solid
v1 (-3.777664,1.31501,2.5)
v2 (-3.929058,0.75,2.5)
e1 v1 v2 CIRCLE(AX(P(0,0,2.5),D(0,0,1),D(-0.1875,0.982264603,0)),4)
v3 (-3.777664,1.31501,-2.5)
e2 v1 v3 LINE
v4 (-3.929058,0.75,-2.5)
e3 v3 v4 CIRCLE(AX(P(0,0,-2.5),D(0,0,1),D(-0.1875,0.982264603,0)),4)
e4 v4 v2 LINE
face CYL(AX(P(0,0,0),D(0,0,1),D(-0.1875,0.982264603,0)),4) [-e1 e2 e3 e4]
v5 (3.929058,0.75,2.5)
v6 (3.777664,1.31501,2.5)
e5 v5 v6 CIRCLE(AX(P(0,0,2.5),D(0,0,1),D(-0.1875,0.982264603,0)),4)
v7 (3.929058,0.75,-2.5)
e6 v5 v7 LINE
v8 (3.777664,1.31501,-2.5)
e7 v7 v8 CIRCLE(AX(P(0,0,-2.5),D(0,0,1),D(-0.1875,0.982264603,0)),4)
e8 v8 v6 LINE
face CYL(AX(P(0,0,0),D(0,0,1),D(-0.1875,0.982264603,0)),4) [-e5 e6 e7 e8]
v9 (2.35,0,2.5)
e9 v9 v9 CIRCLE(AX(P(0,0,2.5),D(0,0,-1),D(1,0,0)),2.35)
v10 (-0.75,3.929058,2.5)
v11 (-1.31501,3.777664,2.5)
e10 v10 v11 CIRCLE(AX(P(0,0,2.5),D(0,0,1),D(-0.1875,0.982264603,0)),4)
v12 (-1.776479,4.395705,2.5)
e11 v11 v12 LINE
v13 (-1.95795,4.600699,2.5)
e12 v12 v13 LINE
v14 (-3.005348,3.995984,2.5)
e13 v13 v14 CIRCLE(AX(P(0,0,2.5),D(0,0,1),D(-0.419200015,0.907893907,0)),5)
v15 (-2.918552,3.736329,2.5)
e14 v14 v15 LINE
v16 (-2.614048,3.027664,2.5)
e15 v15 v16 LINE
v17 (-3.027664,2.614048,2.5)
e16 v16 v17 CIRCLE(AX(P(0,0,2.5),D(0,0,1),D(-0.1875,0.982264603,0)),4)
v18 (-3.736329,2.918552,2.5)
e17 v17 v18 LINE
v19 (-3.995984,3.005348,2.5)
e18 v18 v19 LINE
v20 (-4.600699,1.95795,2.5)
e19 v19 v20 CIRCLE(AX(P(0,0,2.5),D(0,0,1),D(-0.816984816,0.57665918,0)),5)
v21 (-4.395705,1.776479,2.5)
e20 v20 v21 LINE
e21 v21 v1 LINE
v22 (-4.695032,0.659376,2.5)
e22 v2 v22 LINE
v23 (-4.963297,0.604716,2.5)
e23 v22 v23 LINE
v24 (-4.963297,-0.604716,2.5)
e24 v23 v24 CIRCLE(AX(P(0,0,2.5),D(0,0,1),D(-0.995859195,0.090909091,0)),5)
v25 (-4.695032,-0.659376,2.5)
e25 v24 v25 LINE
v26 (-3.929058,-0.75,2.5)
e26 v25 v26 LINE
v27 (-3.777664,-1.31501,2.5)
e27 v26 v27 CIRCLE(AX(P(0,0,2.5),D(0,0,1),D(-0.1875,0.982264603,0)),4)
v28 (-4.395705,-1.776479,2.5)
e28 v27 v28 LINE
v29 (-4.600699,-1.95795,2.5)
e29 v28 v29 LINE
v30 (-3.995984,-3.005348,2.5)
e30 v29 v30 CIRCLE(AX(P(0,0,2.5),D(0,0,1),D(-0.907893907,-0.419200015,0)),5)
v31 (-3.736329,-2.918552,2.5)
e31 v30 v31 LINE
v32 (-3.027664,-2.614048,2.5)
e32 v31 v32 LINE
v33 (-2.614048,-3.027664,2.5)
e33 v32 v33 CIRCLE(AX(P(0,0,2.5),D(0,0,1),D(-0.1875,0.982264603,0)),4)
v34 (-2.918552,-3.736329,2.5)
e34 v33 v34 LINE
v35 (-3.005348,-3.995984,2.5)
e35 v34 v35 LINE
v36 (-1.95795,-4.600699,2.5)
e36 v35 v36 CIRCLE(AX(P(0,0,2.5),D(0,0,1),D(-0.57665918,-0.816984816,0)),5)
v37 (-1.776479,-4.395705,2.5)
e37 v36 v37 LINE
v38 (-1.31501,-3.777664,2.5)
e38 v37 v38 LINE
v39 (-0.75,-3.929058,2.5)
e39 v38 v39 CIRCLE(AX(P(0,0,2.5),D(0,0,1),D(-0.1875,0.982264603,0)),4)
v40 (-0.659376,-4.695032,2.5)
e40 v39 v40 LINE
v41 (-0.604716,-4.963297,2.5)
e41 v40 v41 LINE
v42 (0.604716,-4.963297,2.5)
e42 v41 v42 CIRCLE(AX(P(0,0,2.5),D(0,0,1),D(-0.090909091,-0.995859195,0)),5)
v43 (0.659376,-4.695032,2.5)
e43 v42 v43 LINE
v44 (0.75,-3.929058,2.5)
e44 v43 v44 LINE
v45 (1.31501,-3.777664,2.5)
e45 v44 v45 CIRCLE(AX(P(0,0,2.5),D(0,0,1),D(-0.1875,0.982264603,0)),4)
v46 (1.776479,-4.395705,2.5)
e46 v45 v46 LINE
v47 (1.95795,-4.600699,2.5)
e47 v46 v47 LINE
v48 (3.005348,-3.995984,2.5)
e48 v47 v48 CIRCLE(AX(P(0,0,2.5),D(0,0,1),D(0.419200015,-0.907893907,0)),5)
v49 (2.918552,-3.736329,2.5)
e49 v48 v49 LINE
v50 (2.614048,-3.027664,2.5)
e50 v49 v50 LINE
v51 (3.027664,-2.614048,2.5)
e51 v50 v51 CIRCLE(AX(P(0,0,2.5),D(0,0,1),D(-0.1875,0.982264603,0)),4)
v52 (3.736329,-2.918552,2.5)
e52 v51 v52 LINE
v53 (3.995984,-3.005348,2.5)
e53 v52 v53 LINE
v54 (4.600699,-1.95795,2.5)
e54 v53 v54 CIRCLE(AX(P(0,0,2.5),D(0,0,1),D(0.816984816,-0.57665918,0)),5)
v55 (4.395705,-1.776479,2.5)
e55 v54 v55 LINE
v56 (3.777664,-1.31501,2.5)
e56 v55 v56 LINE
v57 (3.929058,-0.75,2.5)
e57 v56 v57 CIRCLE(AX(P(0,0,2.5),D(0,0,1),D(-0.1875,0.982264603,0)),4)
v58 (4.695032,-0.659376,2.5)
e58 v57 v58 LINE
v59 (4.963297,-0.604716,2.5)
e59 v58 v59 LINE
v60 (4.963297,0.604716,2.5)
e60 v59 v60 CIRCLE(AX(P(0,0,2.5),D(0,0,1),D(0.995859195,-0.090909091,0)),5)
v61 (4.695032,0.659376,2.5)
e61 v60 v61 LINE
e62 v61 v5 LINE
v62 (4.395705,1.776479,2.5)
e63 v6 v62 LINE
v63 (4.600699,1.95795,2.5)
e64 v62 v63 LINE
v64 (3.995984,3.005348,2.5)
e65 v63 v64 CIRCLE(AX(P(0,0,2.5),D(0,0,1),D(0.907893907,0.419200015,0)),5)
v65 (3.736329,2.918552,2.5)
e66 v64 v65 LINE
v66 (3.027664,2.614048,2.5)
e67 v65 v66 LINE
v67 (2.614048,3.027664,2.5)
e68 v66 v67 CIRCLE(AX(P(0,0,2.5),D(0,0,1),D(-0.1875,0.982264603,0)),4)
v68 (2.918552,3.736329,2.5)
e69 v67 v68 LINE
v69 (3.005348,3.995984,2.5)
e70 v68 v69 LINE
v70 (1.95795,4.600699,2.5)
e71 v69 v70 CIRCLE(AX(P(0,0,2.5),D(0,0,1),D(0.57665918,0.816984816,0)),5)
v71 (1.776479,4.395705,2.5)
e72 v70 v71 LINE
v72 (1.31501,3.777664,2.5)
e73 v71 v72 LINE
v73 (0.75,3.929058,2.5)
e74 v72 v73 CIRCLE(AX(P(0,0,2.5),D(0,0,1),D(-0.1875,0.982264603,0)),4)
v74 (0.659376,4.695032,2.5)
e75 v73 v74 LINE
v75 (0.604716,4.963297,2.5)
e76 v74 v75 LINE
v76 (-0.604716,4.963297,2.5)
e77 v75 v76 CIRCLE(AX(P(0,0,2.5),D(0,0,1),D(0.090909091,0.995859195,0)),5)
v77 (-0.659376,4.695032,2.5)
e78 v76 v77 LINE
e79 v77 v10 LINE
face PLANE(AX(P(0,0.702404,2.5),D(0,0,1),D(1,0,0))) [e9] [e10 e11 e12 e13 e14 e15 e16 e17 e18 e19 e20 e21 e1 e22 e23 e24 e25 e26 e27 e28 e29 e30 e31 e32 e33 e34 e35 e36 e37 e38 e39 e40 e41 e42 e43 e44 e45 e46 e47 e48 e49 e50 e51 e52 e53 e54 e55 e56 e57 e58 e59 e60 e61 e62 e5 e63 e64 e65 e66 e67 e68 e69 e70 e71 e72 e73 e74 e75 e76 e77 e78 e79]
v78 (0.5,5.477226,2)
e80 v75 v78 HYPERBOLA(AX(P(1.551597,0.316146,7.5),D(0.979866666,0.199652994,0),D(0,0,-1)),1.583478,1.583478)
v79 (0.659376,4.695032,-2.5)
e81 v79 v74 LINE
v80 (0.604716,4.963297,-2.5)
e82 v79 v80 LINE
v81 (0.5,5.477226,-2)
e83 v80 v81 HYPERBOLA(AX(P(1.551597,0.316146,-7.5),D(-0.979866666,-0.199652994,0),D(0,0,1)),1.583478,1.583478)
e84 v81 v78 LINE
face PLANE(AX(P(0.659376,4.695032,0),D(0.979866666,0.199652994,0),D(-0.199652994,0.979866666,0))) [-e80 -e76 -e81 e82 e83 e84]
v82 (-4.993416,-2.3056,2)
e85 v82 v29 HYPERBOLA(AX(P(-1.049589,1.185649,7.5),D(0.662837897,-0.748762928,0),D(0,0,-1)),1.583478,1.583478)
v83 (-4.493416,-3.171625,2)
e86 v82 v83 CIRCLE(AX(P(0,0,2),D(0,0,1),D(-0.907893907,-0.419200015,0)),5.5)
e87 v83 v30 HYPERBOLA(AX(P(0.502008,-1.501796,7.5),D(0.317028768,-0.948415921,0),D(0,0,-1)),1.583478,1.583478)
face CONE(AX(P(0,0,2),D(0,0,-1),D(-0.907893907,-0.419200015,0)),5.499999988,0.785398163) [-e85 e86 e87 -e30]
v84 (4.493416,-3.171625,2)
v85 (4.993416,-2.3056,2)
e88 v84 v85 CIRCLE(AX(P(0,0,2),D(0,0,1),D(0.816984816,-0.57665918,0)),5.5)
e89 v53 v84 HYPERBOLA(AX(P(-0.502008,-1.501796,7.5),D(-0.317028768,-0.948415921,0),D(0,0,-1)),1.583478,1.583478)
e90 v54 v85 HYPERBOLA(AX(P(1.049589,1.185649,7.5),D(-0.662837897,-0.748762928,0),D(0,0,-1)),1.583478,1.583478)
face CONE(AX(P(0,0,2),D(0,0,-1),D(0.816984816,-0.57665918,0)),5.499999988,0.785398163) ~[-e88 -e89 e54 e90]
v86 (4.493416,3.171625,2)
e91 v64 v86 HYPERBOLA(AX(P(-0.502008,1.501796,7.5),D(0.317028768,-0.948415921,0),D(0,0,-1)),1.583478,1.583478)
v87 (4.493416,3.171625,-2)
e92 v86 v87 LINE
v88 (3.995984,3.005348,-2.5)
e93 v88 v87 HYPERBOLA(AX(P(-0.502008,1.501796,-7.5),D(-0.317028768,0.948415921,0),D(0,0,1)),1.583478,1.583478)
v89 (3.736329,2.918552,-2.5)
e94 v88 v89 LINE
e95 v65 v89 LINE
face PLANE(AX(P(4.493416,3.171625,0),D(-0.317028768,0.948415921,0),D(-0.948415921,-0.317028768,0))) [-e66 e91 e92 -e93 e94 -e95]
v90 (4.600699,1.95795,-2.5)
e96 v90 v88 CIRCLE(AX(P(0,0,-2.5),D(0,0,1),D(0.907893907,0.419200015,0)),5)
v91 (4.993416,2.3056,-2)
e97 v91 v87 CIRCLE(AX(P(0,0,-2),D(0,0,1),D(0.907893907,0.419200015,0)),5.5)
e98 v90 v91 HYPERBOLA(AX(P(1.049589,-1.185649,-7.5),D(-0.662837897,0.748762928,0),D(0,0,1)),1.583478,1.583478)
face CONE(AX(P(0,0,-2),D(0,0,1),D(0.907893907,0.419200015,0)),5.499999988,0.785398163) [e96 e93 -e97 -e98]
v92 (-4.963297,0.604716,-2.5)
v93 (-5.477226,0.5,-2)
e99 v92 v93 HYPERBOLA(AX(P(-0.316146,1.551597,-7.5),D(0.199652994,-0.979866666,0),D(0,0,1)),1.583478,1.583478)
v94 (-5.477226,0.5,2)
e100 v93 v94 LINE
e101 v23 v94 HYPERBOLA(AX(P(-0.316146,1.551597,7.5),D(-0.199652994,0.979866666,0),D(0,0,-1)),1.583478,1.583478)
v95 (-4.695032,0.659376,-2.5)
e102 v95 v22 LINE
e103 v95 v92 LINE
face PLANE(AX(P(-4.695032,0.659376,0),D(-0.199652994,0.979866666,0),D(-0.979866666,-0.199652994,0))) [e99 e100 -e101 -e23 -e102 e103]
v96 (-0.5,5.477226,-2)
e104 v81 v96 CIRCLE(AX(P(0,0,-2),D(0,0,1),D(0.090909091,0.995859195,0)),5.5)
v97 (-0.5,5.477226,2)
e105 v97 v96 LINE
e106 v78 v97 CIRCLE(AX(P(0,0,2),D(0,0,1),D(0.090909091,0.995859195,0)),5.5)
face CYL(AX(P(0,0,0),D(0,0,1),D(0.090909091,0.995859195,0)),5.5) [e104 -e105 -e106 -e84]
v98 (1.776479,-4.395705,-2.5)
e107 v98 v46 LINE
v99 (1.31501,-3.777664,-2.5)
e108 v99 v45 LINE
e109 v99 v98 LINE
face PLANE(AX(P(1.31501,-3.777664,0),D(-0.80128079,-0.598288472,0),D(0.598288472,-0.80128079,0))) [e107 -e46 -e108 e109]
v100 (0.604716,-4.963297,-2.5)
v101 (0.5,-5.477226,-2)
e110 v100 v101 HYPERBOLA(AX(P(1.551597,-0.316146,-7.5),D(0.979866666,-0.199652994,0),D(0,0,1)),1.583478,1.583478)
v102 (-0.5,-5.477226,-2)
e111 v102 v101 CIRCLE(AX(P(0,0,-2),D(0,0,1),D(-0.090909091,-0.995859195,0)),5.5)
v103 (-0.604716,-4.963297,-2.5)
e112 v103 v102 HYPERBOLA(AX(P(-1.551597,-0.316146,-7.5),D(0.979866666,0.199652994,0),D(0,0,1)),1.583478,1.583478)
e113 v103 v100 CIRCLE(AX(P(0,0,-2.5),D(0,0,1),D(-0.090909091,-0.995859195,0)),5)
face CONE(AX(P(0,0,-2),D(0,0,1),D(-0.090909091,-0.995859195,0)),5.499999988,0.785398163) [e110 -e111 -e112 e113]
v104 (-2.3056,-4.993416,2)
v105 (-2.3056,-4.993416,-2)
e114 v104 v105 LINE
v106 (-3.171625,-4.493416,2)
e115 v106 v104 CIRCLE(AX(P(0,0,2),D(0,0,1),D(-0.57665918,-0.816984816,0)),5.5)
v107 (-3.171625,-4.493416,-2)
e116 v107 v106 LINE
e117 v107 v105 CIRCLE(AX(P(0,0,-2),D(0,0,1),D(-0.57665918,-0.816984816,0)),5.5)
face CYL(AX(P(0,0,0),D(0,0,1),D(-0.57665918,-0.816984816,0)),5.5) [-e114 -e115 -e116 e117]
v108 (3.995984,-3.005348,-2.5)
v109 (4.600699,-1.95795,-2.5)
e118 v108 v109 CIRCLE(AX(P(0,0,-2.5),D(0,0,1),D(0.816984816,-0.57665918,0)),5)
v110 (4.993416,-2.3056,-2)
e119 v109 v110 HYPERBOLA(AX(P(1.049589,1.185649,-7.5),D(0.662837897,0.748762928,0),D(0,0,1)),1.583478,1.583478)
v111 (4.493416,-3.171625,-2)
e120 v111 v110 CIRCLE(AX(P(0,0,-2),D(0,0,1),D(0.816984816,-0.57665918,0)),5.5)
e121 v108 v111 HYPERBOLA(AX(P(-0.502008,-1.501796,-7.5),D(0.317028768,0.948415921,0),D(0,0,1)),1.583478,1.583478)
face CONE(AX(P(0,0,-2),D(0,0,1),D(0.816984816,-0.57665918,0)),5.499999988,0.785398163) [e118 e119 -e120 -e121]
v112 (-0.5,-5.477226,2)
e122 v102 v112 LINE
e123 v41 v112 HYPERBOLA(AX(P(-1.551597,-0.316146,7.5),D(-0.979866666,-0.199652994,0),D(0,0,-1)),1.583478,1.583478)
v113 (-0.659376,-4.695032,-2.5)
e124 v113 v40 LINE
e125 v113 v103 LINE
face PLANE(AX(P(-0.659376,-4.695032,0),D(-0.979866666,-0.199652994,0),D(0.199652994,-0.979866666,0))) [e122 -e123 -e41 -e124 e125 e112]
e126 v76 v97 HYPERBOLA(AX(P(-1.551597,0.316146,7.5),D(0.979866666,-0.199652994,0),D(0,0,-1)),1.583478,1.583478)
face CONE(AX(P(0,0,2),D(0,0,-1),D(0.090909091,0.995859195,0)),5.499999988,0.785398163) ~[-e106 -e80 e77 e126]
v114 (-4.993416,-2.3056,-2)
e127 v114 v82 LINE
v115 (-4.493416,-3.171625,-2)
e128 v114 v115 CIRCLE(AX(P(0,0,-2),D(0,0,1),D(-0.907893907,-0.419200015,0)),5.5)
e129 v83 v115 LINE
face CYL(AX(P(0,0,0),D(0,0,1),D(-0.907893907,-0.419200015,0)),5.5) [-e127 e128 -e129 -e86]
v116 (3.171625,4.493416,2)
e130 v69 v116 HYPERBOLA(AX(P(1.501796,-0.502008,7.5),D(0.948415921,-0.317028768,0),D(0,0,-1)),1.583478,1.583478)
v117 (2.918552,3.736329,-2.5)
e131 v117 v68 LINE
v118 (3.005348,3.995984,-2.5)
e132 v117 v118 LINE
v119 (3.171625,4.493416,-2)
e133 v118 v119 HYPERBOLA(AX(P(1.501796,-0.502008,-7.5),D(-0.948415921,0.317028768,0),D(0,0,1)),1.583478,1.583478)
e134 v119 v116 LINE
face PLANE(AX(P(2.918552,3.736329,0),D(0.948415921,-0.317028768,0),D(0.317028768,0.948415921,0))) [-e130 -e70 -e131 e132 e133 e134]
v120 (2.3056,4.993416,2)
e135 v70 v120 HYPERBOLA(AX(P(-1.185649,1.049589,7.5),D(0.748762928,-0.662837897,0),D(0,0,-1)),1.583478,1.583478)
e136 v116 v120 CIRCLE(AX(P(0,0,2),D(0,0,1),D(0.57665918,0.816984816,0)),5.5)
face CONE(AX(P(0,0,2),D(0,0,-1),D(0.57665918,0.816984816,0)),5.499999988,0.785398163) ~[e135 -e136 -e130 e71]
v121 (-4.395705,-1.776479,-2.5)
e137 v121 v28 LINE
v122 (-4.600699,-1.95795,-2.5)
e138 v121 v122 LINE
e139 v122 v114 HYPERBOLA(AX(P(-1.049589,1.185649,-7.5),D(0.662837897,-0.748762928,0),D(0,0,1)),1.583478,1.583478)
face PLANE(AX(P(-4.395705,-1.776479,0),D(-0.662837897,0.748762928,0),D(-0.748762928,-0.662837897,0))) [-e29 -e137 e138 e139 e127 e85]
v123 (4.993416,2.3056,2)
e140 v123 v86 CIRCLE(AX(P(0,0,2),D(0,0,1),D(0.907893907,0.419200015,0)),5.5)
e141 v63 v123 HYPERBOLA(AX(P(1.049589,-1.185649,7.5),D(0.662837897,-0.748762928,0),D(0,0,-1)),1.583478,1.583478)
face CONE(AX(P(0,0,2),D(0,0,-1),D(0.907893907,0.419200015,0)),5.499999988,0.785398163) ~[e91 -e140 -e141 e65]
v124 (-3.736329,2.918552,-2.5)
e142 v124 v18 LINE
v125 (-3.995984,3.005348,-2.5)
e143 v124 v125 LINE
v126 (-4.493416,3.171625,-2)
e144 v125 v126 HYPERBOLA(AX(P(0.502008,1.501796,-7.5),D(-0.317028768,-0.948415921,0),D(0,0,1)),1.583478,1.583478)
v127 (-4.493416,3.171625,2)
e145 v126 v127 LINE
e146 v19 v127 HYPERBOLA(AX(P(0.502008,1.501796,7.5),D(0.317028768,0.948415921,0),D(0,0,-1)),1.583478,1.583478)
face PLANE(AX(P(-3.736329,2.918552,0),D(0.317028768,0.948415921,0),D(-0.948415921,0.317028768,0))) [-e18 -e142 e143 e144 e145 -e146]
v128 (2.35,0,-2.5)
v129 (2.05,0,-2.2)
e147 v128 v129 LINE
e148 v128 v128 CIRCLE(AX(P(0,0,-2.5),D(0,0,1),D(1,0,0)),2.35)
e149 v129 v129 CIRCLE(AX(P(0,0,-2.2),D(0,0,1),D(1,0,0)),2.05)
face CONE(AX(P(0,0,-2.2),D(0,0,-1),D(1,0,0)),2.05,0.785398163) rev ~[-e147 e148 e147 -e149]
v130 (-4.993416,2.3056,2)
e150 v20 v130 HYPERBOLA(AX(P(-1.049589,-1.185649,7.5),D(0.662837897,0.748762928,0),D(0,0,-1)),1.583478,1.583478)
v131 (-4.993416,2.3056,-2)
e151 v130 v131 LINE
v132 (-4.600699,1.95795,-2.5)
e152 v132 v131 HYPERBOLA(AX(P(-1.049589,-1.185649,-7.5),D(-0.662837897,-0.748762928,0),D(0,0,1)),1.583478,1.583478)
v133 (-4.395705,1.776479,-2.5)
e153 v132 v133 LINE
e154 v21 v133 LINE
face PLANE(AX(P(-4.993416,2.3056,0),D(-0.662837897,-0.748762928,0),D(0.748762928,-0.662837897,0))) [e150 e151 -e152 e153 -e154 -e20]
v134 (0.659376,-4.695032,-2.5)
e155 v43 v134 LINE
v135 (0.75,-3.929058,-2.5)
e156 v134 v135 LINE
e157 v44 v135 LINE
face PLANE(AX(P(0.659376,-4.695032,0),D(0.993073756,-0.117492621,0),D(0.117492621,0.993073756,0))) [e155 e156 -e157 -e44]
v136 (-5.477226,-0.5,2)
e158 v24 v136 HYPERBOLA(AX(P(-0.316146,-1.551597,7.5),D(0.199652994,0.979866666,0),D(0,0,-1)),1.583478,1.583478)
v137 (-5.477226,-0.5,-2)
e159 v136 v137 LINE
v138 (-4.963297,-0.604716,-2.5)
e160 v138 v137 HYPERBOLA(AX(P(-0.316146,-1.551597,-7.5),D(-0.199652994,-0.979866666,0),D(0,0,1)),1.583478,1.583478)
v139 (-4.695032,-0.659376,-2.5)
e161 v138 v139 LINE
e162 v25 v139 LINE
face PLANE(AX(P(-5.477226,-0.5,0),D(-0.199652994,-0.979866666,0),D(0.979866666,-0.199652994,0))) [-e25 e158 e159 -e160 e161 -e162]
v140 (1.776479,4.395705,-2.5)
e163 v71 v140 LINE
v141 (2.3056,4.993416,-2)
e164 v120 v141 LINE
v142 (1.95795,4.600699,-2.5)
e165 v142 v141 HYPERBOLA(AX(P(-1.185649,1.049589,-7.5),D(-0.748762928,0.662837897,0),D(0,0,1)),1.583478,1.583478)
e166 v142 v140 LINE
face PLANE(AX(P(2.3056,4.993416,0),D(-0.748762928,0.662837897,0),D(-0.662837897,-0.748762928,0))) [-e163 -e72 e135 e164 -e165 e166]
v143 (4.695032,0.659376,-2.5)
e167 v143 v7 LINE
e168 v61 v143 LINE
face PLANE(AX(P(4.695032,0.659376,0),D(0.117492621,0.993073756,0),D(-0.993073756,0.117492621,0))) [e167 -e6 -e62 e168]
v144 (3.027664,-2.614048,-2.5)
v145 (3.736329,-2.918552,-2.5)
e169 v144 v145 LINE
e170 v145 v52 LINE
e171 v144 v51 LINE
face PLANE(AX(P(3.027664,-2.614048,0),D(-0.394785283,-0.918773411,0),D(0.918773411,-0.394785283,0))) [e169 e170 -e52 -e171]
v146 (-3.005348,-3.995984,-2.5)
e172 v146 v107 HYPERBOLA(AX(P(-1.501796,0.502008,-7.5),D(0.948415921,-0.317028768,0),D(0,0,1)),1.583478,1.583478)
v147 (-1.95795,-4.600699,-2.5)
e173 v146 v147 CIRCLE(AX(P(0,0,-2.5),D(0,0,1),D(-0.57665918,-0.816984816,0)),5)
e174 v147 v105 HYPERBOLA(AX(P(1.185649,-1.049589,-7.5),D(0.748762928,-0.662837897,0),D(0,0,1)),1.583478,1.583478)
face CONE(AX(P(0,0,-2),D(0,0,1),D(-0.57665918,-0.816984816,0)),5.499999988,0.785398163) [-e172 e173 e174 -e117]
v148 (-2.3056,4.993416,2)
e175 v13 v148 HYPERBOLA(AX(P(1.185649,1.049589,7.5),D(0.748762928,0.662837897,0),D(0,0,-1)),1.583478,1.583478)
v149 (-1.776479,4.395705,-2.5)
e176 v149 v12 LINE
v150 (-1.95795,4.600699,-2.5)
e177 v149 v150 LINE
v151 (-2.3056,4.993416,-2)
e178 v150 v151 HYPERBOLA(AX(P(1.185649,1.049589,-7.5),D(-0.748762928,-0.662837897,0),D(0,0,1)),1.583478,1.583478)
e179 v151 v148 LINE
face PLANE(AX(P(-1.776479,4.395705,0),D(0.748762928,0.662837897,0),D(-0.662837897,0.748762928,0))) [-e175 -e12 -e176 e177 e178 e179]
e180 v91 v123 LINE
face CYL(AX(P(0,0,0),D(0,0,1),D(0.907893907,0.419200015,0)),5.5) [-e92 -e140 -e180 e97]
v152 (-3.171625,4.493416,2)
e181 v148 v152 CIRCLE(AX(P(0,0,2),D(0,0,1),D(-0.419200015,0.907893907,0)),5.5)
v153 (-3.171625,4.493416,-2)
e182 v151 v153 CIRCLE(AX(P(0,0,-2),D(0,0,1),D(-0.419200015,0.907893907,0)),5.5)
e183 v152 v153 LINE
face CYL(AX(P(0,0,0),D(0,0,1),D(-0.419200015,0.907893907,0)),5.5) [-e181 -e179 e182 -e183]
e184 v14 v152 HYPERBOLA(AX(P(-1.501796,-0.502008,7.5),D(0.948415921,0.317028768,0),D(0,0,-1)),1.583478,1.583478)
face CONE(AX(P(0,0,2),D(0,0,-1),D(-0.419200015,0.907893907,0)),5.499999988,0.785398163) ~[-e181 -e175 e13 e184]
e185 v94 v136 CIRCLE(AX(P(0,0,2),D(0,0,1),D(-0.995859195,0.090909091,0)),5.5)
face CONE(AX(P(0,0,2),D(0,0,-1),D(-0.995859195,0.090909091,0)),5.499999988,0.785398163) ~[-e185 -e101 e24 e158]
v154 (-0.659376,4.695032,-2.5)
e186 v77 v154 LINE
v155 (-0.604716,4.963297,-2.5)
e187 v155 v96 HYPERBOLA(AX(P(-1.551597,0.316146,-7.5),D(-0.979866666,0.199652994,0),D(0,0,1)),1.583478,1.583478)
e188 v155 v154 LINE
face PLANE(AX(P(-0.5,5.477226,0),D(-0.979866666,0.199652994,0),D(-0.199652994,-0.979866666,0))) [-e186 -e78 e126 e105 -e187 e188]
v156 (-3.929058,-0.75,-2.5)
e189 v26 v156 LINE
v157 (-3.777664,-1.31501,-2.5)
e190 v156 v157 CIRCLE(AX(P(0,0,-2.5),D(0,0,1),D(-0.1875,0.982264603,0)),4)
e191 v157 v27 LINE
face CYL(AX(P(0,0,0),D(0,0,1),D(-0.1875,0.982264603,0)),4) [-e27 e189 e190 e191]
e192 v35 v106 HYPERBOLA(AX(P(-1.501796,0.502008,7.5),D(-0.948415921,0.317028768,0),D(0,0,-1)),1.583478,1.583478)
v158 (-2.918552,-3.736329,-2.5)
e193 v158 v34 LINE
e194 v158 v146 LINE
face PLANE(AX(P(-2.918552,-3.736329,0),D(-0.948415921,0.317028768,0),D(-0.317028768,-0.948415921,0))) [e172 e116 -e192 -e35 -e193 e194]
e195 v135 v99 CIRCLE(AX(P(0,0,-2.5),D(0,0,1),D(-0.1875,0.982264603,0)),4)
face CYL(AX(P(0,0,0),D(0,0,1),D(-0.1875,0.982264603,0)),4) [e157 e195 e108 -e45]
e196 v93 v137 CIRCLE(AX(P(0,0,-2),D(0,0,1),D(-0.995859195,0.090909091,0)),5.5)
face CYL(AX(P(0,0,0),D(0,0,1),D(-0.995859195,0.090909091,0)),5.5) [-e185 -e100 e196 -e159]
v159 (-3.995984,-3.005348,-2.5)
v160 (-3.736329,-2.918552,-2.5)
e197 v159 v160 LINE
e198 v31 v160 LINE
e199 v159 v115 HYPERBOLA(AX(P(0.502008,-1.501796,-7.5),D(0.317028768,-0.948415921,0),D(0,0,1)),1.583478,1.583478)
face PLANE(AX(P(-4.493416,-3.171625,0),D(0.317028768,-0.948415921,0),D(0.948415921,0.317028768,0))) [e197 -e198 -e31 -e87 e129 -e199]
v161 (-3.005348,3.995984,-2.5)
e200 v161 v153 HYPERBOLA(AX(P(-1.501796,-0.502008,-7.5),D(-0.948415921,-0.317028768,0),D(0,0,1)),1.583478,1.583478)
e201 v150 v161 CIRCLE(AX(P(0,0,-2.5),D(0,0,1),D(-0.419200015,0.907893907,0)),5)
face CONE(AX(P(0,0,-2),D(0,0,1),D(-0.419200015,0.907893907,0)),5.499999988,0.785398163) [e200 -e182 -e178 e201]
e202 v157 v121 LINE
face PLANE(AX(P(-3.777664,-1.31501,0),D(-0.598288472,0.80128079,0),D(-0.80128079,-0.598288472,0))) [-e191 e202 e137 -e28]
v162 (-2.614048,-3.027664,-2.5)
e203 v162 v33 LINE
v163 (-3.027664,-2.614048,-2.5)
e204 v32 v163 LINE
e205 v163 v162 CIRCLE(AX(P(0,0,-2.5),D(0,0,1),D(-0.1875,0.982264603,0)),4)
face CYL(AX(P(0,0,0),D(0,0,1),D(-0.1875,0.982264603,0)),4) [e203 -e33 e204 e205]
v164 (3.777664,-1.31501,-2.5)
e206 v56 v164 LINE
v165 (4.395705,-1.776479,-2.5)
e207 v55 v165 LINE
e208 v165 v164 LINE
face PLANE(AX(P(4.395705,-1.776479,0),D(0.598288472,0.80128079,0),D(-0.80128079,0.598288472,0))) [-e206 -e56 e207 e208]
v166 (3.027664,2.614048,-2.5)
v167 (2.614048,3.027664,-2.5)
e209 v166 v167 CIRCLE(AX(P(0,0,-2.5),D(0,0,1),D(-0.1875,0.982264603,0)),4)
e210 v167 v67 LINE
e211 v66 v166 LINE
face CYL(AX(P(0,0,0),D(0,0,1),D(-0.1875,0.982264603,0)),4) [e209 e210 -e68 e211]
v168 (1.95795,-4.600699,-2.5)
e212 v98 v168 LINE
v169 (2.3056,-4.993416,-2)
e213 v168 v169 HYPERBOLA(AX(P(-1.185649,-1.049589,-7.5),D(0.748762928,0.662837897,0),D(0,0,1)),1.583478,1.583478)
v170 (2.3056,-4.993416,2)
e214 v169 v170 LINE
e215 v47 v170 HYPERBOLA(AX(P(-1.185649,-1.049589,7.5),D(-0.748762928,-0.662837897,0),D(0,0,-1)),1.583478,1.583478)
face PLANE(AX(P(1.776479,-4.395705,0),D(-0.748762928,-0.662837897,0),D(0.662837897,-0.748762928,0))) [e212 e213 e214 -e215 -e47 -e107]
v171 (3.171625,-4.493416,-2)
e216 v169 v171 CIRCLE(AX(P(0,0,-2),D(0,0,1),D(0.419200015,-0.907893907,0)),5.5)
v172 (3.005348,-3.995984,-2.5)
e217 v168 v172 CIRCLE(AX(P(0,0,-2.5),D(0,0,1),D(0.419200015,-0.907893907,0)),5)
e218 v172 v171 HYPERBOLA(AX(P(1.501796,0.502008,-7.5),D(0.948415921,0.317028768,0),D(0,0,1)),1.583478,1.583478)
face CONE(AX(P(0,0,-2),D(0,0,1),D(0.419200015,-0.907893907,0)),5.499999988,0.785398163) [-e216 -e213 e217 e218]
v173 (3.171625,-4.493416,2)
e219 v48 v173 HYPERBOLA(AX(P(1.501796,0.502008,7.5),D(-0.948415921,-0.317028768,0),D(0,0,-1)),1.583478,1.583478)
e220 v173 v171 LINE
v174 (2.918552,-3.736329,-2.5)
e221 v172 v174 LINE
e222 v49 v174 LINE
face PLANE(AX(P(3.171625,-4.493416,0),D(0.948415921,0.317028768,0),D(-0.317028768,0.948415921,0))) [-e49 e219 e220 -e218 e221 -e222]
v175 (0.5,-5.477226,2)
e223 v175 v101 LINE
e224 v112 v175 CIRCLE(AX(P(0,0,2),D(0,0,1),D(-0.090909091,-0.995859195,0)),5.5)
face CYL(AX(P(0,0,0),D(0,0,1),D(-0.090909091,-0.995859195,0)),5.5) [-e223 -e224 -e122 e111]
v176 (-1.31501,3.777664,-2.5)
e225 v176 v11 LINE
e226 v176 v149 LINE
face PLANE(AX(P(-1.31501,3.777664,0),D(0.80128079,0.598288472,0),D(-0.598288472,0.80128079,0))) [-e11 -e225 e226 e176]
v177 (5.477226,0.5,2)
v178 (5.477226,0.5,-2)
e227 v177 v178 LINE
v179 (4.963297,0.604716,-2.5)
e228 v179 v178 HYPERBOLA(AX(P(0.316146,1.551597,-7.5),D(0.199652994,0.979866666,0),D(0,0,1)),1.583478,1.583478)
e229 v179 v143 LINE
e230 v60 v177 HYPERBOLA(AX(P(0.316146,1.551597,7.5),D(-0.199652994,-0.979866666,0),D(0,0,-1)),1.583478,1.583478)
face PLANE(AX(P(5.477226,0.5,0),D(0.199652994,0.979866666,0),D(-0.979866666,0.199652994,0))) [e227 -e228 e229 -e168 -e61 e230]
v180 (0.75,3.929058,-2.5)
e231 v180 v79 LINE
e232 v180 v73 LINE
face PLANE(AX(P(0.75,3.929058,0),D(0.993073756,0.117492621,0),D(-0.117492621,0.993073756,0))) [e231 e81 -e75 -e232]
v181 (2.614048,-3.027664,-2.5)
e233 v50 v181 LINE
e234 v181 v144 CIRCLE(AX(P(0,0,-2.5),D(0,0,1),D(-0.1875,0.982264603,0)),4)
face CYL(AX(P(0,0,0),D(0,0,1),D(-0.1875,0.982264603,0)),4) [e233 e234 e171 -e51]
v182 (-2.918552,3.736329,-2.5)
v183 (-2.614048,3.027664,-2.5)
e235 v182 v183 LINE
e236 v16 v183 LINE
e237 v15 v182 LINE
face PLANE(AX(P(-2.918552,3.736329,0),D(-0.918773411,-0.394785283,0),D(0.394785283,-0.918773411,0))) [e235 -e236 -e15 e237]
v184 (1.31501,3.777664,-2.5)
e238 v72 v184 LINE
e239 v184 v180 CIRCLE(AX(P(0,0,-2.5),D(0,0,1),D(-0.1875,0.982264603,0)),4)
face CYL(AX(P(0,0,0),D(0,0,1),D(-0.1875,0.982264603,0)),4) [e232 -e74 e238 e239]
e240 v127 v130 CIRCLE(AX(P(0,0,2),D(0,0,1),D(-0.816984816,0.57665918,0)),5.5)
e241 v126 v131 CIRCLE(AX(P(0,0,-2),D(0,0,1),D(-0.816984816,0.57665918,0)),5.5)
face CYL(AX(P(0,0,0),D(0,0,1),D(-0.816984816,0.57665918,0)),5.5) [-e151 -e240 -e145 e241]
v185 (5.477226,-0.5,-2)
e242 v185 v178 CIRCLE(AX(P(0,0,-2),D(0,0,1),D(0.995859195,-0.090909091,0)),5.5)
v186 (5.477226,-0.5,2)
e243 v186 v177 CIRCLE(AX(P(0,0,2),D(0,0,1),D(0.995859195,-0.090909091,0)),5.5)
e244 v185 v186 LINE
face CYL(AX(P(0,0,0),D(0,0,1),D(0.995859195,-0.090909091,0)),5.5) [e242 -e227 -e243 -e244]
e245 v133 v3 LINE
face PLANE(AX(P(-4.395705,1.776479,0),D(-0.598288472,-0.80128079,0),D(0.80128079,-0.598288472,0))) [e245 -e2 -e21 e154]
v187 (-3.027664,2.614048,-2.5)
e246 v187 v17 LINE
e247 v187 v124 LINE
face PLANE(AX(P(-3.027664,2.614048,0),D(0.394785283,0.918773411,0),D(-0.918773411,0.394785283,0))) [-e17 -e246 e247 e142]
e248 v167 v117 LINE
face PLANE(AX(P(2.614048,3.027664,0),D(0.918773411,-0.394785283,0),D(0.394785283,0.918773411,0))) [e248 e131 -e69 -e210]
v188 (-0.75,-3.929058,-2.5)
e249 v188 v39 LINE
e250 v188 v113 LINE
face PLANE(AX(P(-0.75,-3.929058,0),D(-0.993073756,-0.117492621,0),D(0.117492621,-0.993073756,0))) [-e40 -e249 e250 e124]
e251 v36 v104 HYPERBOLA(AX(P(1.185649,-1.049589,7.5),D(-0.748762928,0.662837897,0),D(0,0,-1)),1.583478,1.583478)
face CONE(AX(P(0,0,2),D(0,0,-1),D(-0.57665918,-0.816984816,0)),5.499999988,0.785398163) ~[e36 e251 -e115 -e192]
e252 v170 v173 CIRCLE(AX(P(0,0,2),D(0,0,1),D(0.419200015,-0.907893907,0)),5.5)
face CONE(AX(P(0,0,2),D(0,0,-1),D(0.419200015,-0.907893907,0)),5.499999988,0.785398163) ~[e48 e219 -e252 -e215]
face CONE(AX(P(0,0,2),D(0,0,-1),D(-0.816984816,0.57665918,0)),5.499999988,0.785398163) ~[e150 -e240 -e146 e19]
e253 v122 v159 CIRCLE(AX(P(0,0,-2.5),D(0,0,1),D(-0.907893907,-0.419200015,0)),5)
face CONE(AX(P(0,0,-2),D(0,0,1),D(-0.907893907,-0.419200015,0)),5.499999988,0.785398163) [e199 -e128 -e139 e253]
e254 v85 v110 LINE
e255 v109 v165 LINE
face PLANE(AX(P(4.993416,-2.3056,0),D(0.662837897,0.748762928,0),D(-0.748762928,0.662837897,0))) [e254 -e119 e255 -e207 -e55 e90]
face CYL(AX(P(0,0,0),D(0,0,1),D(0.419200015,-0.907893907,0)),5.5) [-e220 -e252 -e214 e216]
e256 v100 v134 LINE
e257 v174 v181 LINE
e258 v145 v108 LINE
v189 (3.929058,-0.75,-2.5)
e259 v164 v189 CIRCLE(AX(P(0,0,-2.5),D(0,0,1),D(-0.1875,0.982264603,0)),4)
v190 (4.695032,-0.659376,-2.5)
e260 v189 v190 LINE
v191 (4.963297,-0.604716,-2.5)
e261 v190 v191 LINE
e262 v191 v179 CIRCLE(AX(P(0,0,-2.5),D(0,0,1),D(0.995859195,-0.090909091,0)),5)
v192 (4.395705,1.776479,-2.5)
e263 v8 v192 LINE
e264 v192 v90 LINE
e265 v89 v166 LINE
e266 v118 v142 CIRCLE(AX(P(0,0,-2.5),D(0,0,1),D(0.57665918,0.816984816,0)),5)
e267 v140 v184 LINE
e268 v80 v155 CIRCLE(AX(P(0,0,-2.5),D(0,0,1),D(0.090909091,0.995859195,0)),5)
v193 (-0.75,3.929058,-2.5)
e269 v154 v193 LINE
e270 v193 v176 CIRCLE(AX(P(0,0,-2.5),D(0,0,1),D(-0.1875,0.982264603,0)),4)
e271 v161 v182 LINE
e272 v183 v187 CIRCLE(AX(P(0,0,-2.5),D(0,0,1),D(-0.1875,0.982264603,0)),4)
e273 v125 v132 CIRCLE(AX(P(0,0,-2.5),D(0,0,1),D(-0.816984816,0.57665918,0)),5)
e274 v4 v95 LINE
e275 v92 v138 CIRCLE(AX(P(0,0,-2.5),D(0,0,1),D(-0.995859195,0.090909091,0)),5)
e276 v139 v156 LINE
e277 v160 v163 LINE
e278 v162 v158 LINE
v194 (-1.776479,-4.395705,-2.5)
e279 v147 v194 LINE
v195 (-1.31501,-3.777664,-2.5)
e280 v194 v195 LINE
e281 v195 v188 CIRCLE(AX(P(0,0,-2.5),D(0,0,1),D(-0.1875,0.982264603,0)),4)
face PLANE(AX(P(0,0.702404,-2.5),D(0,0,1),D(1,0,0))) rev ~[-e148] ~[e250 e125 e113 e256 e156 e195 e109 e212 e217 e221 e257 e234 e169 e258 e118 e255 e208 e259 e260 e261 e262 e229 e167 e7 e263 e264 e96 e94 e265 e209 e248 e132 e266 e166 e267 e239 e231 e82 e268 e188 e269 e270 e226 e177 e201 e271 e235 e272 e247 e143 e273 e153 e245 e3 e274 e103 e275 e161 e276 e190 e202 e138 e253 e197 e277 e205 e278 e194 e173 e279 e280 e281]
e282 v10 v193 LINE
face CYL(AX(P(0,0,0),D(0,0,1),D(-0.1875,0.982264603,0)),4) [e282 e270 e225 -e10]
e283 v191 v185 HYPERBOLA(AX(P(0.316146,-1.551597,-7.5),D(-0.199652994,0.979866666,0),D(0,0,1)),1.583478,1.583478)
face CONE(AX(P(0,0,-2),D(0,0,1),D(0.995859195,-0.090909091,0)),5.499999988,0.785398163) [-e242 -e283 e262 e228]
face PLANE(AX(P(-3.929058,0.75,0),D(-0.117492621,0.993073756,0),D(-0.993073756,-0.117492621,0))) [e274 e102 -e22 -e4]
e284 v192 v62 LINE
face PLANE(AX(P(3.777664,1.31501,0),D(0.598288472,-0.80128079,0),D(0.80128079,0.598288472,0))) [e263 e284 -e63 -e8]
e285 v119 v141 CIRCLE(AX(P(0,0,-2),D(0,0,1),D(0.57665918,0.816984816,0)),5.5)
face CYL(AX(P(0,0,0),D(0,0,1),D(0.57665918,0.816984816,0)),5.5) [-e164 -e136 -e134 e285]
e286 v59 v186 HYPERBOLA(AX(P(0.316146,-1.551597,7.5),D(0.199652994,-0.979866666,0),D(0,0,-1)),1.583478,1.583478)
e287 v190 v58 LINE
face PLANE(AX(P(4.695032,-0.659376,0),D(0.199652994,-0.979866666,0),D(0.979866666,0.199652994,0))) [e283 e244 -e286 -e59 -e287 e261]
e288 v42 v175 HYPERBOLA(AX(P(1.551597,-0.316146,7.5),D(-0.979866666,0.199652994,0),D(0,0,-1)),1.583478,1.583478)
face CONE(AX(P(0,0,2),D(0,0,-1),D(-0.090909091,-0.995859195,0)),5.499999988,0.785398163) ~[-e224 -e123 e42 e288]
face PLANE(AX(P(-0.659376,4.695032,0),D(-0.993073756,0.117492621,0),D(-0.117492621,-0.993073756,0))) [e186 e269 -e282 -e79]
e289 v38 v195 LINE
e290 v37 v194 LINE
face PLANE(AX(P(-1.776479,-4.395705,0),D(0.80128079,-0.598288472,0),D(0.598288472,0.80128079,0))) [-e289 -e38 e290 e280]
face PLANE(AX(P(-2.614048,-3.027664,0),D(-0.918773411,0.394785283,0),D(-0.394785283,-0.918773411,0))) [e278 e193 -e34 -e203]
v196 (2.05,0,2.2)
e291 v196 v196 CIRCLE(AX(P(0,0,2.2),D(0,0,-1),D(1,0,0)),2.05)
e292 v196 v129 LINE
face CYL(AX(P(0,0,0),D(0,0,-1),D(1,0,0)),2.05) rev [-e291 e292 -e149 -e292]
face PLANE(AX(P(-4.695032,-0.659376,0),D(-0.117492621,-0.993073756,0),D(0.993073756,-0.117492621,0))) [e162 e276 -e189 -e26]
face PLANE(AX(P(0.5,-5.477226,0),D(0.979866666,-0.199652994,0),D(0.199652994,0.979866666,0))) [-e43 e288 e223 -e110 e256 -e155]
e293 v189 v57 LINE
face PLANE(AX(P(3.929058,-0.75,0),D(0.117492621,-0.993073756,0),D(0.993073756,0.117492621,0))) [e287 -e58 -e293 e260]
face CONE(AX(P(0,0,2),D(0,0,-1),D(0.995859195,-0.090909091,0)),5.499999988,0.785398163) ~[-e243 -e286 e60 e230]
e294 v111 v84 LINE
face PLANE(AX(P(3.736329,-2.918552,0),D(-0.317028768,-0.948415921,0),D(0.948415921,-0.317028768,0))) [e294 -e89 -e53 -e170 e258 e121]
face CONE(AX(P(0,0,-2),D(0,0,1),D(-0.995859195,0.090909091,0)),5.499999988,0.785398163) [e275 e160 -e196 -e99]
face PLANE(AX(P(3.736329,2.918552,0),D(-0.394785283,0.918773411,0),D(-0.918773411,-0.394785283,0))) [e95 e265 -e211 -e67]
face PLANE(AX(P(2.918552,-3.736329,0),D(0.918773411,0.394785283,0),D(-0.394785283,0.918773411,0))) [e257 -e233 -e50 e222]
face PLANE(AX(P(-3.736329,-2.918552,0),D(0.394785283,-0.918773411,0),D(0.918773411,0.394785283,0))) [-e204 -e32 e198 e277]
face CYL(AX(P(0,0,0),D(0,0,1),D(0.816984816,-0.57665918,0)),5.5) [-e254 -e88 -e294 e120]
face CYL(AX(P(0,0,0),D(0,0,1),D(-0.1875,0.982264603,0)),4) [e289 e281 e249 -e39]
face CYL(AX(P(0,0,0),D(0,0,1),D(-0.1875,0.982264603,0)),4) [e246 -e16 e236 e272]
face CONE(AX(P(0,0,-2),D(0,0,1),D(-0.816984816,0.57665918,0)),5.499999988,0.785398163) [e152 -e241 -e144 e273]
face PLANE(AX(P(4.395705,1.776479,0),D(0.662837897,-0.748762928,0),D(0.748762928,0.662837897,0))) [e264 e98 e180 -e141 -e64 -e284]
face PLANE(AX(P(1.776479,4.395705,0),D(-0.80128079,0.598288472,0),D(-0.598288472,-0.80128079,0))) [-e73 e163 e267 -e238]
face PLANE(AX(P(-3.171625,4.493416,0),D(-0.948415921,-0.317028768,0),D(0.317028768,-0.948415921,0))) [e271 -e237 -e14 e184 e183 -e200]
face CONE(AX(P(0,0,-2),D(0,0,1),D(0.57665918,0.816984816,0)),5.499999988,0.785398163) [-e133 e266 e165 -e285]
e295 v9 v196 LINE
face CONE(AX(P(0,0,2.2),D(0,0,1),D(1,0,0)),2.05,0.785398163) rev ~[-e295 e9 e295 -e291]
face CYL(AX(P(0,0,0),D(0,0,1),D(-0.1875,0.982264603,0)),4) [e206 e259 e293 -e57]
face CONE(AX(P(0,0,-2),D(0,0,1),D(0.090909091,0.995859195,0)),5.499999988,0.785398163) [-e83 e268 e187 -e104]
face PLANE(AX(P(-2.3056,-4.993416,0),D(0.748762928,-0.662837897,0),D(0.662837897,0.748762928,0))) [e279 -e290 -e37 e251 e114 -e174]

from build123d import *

# Parameters (mm, degrees)
SKETCH_1_R               = 2.05
EXTRUDE_1_DEPTH          = 2.5
PATTERN_CIRCULAR_1_COUNT = 12
CHAMFER_1_SIZE           = 0.5
CHAMFER_2_SIZE           = 0.5
CHAMFER_3_SIZE           = 0.3


with BuildPart() as part:
    # 스케치1 → 보스-돌출1 (new, symmetric)
    with BuildSketch(Plane.XY):
        with BuildLine():
            ThreePointArc((-0.75, 3.929058411), (0, -4), (0.75, 3.929058411))
            Line((0.75, 3.929058411), (0.659376088, 4.695031864))
            Line((0.659376088, 4.695031864), (0.5, 5.477225575))
            ThreePointArc((0.5, 5.477225575), (0, 5.5), (-0.5, 5.477225575))
            Line((-0.5, 5.477225575), (-0.659376088, 4.695031864))
            Line((-0.659376088, 4.695031864), (-0.75, 3.929058411))
        make_face()
        Circle(SKETCH_1_R, mode=Mode.SUBTRACT)
    extrude_1 = extrude(amount=EXTRUDE_1_DEPTH, both=True)

    # 원형 패턴1: 보스-돌출1 ×12 about axis
    pattern_circular_1_axis = Axis((0, 0, 0), (0, 0, 1))
    for i in range(1, PATTERN_CIRCULAR_1_COUNT):
        add(extrude_1.rotate(pattern_circular_1_axis, i * 360 / PATTERN_CIRCULAR_1_COUNT))

    # 모따기1
    chamfer_1_edges = [part.edges().sort_by_distance(p)[0] for p in [
        (0, 5.5, -2.5),
        (2.75, 4.763139721, -2.5),
        (5.5, 0, -2.5),
        (2.75, -4.763139721, -2.5),
        (-2.75, -4.763139721, -2.5),
        (-5.5, 0, -2.5),
        (-2.75, 4.763139721, -2.5),
        (-4.763139721, 2.75, -2.5),
        (-4.763139721, -2.75, -2.5),
        (0, -5.5, -2.5),
        (4.763139721, -2.75, -2.5),
        (4.763139721, 2.75, -2.5),
    ]]
    chamfer(chamfer_1_edges, length=CHAMFER_1_SIZE)

    # 모따기2
    chamfer_2_edges = [part.edges().sort_by_distance(p)[0] for p in [
        (4.763139721, 2.75, 2.5),
        (2.75, 4.763139721, 2.5),
        (0, 5.5, 2.5),
        (-2.75, 4.763139721, 2.5),
        (-4.763139721, 2.75, 2.5),
        (-5.5, 0, 2.5),
        (-4.763139721, -2.75, 2.5),
        (-2.75, -4.763139721, 2.5),
        (0, -5.5, 2.5),
        (2.75, -4.763139721, 2.5),
        (4.763139721, -2.75, 2.5),
        (5.5, 0, 2.5),
    ]]
    chamfer(chamfer_2_edges, length=CHAMFER_2_SIZE)

    # 모따기3
    chamfer_3_edges = [part.edges().sort_by_distance(p)[0] for p in [
        (-2.05, 0, 2.5),
        (-2.05, 0, -2.5),
    ]]
    chamfer(chamfer_3_edges, length=CHAMFER_3_SIZE)


solid = part.part
